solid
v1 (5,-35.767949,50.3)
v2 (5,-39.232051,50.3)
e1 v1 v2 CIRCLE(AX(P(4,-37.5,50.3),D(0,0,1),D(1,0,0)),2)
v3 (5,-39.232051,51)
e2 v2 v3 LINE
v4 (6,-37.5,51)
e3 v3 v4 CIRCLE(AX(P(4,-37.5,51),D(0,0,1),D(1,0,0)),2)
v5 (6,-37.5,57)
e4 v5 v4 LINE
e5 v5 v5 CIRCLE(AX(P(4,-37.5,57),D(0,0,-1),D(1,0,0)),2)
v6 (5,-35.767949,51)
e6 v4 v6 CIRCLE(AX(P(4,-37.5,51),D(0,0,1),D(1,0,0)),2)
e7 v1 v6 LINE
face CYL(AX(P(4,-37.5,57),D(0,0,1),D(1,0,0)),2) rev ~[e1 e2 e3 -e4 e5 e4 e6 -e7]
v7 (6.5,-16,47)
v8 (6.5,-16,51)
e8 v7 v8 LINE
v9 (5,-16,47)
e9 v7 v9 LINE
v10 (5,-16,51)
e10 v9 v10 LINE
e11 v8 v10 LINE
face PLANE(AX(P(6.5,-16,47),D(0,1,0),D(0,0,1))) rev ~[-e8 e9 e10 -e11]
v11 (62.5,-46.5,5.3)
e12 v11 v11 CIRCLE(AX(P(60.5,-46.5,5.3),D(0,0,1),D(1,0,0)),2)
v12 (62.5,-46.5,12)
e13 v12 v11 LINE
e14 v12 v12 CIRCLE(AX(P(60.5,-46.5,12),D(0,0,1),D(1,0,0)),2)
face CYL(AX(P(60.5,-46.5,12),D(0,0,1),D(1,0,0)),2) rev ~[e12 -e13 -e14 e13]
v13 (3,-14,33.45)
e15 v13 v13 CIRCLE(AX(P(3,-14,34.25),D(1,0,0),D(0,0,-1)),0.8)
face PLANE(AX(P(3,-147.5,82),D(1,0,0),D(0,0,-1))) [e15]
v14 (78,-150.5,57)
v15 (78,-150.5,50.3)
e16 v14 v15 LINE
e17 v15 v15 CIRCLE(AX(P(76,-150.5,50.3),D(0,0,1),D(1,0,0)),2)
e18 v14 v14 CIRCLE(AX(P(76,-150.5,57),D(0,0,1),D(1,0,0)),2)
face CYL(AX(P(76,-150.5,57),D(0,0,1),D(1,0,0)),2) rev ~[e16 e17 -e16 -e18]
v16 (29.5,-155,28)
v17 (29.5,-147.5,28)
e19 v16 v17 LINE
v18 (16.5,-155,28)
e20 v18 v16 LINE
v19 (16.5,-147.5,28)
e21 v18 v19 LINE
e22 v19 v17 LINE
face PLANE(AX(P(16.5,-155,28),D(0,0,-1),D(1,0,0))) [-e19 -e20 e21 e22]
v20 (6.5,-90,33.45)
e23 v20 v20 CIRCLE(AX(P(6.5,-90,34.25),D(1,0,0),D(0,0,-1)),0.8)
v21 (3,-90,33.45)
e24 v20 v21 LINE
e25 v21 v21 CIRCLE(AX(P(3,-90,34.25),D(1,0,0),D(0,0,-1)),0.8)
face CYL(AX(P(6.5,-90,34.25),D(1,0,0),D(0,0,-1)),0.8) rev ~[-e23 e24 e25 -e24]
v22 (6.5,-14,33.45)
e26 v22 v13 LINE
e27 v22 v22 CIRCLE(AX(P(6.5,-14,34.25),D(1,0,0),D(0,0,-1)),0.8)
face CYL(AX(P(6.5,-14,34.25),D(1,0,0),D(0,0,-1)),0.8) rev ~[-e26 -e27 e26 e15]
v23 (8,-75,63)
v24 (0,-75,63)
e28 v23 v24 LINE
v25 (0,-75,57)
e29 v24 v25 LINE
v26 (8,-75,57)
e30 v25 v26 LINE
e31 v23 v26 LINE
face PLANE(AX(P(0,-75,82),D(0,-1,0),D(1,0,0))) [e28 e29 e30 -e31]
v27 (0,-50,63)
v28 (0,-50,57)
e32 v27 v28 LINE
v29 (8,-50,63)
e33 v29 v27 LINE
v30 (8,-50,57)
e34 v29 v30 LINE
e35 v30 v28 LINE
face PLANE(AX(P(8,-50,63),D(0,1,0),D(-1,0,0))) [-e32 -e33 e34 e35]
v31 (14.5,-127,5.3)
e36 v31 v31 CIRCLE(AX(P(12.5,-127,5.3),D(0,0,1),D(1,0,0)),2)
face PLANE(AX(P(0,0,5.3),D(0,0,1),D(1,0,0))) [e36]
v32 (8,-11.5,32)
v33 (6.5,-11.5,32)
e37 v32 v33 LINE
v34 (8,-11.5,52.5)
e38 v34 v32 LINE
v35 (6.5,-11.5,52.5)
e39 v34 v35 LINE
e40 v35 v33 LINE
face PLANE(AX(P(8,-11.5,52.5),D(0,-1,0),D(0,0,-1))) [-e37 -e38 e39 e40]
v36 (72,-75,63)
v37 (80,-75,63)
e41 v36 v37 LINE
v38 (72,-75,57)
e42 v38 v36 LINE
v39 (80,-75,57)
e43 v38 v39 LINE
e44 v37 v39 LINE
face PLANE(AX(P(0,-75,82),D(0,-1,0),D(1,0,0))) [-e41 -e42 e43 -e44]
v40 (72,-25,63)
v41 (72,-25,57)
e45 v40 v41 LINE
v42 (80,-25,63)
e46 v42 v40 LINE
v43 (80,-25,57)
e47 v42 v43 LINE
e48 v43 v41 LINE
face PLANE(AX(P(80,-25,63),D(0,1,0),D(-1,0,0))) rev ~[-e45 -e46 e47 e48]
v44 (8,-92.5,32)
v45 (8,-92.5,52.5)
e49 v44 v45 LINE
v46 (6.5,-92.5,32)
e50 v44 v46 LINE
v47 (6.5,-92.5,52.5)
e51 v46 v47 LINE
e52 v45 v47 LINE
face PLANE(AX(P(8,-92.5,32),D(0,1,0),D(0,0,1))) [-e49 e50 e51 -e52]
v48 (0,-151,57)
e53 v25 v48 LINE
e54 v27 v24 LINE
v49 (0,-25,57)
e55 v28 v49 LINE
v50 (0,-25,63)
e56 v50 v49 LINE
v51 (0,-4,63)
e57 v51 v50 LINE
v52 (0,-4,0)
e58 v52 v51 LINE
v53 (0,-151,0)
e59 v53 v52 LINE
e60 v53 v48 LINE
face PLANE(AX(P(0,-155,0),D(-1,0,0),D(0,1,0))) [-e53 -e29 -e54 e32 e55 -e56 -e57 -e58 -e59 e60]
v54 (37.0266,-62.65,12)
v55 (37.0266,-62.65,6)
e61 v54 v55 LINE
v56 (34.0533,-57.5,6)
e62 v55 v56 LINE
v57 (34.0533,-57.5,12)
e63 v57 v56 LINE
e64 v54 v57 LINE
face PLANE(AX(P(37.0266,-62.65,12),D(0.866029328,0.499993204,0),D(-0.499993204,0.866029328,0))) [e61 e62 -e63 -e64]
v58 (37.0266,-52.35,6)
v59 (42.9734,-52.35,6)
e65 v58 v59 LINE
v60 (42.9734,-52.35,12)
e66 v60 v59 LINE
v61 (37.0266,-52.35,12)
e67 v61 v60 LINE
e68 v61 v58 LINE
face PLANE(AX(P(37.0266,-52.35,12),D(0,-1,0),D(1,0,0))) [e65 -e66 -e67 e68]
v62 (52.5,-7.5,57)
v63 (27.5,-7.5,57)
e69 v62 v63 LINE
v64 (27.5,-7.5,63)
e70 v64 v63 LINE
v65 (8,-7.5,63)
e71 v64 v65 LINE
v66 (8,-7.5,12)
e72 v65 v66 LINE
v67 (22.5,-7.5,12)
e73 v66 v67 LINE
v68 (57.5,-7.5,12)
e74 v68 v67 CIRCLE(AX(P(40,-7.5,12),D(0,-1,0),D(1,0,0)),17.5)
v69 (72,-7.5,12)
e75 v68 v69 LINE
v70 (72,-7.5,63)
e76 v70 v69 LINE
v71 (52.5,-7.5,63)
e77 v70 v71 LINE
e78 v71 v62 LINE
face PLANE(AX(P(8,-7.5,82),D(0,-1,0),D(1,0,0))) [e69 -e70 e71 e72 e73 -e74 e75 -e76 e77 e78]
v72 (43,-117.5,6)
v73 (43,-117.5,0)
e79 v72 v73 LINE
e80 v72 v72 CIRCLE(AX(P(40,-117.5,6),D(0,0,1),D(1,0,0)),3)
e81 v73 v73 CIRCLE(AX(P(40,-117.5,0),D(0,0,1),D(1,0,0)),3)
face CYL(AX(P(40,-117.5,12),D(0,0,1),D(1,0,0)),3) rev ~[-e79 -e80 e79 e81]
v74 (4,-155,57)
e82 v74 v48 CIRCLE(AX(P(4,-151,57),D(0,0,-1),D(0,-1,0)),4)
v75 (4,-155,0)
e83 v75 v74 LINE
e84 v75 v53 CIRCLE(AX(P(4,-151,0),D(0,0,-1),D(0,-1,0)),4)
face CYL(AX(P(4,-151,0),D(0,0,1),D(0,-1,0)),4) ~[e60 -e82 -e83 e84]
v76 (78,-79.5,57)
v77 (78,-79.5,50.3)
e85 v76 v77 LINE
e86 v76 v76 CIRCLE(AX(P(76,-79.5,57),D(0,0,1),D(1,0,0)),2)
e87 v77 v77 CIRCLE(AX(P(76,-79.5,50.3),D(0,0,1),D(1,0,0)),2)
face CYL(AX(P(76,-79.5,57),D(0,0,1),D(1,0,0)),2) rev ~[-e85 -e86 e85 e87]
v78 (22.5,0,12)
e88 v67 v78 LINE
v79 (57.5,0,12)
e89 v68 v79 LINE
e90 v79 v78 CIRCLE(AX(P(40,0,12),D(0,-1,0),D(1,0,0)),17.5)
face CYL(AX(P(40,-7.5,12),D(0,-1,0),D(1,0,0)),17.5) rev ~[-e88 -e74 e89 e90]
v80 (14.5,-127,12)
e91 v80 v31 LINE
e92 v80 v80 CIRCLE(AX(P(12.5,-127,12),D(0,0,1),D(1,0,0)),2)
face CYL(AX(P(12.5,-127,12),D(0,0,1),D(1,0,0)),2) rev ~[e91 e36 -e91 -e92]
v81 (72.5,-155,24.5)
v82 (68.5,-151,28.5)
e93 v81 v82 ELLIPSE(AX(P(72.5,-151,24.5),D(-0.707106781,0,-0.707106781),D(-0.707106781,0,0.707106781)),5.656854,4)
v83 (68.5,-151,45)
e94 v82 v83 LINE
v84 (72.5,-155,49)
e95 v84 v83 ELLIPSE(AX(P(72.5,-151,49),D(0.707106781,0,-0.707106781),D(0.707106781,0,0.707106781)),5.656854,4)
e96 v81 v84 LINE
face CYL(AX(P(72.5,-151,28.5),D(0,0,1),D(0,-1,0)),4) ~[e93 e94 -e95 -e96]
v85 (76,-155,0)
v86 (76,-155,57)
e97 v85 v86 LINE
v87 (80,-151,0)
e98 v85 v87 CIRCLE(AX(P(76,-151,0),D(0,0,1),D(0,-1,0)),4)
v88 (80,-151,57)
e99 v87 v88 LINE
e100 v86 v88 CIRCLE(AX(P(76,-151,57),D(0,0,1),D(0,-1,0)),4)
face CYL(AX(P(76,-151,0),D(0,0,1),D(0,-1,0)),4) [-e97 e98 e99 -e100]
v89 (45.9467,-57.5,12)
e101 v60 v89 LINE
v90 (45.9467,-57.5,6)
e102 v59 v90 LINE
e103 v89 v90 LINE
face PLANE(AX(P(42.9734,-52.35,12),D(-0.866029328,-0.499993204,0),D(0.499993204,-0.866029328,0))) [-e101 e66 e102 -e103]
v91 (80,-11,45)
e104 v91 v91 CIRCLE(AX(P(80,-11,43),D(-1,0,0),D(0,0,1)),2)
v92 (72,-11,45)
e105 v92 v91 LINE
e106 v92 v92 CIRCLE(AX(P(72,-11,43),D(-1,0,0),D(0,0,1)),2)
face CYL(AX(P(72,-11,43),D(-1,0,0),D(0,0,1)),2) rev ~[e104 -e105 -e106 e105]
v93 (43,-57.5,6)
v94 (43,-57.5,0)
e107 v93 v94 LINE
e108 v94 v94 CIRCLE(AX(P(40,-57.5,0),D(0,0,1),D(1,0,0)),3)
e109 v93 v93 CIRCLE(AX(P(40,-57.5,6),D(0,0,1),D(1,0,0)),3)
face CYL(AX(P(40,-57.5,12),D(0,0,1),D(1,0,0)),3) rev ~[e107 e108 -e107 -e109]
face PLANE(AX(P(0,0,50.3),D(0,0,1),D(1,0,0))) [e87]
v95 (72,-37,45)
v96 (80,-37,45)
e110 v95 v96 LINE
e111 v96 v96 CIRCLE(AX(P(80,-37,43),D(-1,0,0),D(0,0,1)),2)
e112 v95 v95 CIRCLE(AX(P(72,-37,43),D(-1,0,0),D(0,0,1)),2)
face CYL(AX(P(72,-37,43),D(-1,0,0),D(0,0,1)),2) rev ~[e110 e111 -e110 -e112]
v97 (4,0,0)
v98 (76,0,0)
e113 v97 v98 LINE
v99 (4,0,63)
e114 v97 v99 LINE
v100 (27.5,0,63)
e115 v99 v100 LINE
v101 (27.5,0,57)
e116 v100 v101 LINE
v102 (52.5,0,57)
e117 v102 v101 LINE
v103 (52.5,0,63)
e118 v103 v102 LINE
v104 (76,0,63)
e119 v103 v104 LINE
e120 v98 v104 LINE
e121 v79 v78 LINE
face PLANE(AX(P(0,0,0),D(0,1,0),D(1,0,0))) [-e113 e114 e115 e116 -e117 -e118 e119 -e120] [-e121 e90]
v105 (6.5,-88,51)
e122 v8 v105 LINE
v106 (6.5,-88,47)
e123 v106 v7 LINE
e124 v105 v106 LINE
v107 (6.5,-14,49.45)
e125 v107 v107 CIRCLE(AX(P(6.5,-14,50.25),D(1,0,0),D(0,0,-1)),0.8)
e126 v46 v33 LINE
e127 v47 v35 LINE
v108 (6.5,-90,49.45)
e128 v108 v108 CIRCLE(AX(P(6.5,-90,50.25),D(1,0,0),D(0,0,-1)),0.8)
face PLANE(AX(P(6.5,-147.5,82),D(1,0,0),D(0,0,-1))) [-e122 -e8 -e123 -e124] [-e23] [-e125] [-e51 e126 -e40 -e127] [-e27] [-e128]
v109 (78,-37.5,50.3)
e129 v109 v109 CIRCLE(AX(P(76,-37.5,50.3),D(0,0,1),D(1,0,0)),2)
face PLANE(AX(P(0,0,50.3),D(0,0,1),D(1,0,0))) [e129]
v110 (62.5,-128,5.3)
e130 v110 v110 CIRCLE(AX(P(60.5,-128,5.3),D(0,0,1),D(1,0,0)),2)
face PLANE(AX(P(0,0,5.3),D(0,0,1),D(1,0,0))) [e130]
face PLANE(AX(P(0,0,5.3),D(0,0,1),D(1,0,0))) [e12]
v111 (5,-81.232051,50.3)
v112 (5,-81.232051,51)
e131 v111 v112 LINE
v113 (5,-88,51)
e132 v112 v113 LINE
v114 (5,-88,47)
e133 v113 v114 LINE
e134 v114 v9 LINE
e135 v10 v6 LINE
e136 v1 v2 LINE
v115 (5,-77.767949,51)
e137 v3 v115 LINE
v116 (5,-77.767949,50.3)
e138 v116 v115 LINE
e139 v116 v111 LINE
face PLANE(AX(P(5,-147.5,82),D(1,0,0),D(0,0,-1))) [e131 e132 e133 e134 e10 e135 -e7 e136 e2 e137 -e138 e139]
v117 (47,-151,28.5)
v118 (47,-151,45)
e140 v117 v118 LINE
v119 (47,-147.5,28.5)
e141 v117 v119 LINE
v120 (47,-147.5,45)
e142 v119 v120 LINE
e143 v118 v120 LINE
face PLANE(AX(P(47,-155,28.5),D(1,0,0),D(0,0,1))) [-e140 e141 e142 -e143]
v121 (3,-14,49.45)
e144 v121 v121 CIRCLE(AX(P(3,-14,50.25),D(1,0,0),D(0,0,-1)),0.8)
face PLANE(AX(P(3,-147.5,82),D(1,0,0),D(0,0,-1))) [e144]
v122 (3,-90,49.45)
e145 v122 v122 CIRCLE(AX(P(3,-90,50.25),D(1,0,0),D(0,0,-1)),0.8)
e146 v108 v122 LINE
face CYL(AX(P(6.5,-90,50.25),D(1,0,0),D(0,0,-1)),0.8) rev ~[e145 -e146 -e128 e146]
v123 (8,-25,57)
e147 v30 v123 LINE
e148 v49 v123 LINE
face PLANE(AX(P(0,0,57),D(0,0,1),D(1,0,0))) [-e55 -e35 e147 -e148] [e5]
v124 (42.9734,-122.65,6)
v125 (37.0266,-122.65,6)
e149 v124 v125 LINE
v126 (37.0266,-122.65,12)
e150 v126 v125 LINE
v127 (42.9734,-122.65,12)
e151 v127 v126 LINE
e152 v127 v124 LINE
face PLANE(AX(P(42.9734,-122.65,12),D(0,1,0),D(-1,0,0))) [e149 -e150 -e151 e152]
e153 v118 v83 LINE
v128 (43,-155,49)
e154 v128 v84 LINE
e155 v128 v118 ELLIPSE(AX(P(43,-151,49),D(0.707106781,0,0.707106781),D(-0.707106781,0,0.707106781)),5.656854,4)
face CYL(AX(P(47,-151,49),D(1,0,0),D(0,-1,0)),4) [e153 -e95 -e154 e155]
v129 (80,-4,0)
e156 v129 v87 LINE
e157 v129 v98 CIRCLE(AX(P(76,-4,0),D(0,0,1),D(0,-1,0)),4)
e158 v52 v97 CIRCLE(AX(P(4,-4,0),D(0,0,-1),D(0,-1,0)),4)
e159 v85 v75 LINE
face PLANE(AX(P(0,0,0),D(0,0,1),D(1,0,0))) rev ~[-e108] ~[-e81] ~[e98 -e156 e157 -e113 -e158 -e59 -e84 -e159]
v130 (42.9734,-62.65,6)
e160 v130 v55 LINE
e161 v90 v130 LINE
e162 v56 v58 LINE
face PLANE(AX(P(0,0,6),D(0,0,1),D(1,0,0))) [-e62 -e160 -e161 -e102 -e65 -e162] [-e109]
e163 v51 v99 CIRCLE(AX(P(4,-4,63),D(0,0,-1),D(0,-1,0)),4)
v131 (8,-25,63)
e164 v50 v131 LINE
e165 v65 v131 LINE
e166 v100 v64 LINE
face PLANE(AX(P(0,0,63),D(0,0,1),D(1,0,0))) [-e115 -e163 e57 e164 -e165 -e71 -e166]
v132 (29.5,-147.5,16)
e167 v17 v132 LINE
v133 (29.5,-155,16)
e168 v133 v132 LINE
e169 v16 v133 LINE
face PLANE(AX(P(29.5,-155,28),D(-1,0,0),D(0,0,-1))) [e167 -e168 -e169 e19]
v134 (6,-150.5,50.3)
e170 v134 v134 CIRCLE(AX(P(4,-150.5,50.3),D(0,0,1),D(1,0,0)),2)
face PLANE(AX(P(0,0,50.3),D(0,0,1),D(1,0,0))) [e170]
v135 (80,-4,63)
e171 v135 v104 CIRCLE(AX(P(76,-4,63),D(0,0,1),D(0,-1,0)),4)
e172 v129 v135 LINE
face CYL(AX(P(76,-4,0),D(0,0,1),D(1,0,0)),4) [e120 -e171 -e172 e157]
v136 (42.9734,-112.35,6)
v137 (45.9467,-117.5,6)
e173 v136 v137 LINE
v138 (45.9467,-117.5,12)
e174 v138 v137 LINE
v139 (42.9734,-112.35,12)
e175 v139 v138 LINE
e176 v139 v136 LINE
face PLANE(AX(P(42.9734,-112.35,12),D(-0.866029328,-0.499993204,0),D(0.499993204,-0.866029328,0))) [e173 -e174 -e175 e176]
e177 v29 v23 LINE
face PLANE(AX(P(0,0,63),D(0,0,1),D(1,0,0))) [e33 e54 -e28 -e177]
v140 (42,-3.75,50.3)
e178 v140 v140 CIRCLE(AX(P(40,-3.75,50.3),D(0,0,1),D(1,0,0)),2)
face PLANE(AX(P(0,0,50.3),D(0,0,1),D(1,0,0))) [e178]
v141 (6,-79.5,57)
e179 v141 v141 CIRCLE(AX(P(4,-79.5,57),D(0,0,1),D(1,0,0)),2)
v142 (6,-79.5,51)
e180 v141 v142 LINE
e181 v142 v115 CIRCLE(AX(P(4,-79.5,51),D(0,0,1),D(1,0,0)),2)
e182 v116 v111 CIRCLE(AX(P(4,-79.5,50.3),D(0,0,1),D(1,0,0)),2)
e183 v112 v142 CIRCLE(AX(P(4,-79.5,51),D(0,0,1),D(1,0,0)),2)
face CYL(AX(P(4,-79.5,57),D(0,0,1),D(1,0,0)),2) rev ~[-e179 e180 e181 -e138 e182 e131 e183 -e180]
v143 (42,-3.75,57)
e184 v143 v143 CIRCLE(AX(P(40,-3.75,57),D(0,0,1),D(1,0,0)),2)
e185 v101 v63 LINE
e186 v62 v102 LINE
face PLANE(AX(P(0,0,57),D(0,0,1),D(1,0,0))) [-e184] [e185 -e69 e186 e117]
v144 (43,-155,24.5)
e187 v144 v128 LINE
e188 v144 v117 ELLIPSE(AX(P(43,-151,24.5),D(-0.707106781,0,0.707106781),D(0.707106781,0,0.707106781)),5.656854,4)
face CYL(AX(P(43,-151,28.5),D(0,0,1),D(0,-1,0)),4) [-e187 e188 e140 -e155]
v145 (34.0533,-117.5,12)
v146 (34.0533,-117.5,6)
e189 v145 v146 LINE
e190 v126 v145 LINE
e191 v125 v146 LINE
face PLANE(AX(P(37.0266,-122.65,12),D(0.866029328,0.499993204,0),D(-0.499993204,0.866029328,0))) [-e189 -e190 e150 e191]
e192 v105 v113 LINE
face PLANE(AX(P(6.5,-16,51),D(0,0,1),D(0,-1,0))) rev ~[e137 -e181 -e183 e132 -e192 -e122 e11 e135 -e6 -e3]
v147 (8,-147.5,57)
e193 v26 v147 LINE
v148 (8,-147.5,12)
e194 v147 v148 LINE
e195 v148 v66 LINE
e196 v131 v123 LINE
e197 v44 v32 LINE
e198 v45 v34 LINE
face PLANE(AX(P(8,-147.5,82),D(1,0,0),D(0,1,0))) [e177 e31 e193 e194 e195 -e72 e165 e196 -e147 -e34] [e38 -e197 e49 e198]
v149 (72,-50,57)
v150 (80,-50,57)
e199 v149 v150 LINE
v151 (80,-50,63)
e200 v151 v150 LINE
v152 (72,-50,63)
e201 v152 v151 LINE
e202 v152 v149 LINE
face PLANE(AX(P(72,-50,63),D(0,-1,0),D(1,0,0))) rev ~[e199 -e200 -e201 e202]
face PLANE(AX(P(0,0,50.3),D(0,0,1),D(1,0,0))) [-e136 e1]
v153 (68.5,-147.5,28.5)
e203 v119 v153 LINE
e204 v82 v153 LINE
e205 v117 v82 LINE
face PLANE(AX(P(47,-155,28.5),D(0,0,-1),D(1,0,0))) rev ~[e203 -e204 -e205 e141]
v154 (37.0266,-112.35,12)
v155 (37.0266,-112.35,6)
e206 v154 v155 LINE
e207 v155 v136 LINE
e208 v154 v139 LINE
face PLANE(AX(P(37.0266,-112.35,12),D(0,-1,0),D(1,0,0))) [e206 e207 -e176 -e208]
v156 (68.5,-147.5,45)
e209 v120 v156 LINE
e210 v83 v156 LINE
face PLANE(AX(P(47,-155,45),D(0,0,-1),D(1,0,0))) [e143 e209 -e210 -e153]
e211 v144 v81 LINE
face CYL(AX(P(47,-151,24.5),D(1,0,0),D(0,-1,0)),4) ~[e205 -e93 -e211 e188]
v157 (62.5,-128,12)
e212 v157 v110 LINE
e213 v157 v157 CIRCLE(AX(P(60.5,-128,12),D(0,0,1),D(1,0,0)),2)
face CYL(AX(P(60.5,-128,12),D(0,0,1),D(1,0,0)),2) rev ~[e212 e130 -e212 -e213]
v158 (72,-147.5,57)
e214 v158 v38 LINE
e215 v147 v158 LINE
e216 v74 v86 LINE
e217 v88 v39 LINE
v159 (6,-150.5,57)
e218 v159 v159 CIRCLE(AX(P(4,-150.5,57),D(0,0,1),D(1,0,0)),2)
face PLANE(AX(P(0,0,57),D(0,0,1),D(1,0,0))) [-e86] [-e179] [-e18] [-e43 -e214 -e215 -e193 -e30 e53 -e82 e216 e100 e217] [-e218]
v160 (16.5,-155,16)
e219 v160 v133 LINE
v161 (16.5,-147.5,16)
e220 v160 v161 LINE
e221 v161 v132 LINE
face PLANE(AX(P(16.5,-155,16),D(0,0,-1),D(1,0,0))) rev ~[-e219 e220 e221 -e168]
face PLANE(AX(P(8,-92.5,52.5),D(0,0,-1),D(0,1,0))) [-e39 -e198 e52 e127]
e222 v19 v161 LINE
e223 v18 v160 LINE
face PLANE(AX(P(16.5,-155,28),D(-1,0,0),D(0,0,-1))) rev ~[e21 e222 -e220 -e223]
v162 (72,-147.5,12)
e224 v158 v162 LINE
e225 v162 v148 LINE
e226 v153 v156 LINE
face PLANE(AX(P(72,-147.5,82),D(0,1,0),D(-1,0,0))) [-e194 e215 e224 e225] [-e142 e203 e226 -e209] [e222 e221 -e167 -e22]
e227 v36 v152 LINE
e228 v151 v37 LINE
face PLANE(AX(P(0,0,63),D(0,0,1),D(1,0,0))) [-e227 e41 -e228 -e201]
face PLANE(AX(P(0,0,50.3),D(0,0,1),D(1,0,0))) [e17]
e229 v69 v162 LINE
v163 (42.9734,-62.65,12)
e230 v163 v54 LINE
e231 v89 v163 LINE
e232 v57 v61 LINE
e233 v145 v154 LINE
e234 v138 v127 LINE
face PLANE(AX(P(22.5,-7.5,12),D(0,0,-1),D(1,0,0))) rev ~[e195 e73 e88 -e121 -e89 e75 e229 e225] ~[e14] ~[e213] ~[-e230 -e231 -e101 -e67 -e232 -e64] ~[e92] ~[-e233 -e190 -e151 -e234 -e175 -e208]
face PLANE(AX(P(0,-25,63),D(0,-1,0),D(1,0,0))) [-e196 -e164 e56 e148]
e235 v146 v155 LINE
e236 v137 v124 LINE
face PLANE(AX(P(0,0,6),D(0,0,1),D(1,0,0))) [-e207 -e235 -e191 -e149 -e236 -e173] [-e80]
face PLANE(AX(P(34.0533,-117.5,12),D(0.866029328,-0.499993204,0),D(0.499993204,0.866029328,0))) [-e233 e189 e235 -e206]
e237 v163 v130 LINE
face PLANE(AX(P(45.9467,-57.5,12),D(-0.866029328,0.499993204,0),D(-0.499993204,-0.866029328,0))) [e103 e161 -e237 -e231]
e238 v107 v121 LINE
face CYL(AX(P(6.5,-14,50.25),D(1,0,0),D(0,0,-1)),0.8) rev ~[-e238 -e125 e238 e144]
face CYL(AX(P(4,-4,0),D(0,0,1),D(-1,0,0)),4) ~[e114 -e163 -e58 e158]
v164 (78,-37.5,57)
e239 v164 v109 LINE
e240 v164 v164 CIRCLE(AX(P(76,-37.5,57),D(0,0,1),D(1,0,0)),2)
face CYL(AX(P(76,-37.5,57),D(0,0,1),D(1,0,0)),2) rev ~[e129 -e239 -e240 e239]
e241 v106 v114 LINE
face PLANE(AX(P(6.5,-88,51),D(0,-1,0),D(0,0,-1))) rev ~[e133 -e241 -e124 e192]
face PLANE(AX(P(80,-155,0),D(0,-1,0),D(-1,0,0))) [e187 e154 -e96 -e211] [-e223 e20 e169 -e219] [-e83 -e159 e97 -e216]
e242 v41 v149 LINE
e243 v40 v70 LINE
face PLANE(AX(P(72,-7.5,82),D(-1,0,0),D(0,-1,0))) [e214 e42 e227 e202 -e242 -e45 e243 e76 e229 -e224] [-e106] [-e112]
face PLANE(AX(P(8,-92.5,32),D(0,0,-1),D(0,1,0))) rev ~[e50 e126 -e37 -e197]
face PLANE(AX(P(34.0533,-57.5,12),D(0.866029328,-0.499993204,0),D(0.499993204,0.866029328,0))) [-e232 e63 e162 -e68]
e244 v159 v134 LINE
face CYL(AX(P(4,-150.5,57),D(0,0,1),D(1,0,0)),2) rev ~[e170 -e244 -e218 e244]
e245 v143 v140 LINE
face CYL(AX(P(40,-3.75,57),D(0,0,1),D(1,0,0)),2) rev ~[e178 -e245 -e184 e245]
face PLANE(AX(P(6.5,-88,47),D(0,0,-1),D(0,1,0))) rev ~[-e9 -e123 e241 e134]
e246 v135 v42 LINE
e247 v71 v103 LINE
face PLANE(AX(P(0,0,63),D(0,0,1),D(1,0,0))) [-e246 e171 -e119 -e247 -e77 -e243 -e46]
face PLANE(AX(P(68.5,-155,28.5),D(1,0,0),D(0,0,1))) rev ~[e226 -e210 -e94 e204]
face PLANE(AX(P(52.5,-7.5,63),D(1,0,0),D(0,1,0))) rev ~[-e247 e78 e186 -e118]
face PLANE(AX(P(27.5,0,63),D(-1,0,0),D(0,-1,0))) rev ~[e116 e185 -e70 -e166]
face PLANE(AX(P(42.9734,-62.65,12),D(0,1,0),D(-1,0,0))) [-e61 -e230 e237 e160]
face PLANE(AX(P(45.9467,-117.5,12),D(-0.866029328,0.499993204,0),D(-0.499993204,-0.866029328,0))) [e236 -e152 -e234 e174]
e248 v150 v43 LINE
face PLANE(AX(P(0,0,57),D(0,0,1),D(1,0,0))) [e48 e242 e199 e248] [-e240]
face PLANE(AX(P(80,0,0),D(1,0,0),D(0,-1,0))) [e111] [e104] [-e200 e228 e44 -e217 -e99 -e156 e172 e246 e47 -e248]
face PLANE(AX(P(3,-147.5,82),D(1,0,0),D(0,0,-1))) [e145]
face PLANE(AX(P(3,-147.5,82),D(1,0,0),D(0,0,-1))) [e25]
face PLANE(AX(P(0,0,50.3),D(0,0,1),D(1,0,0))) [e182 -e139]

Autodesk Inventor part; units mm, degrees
ref_plane "YZ Plane" through (0, 0, 0) normal (1, 0, 0) x (0, 1, 0)
ref_plane "XZ Plane" through (0, 0, 0) normal (0, 1, 0) x (-1, 0, 0)
ref_plane "XY Plane" through (0, 0, 0) normal (0, 0, 1) x (1, 0, 0)
sketch "Boceto1" plane through (0, 0, 0) normal (0, 0, 1) x (1, 0, 0)
  line L0 (0, 0) -> (80, 0)
  line L1 (80, 0) -> (80, -155)
  line L2 (80, -155) -> (0, -155)
  line L3 (0, -155) -> (0, 0)
  dimension "d0" = 155
  dimension "d1" = 80
extrude "Extrusión1" add sketch "Boceto1" along normal blind 82
sketch "Boceto2" plane through (0, 0, 82) normal (0, 0, 1) x (1, 0, 0)
  line L0 (8, -7.5) -> (72, -7.5)
  line L1 (72, -7.5) -> (72, -147.5)
  line L2 (72, -147.5) -> (8, -147.5)
  line L3 (8, -147.5) -> (8, -7.5)
  line L4 (80, -155) -> (80, 0) projected
  line L5 (0, 0) -> (0, -155) projected
  line L6 (80, 0) -> (0, 0) projected
  line L7 (0, -155) -> (80, -155) projected
  dimension "d4" = 8
  dimension "d5" = 8
  dimension "d6" = 7.5
  dimension "d7" = 7.5
  dimension "d8" = 64
  dimension "d9" = 140
extrude "Extrusión2" cut sketch "Boceto2" against normal blind 70 contours L0 L1 L2 L3
sketch "Boceto3" plane through (0, 0, 12) normal (0, 0, 1) x (1, 0, 0)
  line L0 (72, -147.5) -> (8, -147.5) projected
  line L1 (8, -147.5) -> (8, -7.5) projected
  line L2 (72, -7.5) -> (72, -147.5) projected
  line L3 (10, -142) -> (70, -142)
  circle A0 centre (12.5, -127) radius 2
  circle A1 centre (60.5, -128) radius 2
  circle A2 centre (60.5, -46.5) radius 2
  point P0 (0, 0)
  dimension "d20" = 60
  dimension "d21" = 2
  dimension "d22" = 2
  dimension "d23" = 5.5
  dimension "d24" = 15
  dimension "d25" = 14
  dimension "d26" = 4.5
  dimension "d27" = 11.5
  dimension "d28" = 95.5
  dimension "d29" = 11.5
  dimension "d30" = 4
extrude "Extrusión3" cut sketch "Boceto3" against normal blind 6.7
sketch "Boceto4" plane through (0, 0, 12) normal (0, 0, 1) x (1, 0, 0)
  line L0 (40, 12.201) -> (40, -183.6096)
  circle A0 centre (40, -57.5) radius 3
  circle A1 centre (40, -117.5) radius 3
  line L1 (72, -147.5) -> (8, -147.5) projected
  line L2 (0, -155) -> (80, -155) projected
  point P0 (0, 0)
  point P1 (40, -155)
  point P2 (40, -155)
  dimension "d33" = 60
  dimension "d34" = 6
  dimension "d35" = 30
  dimension "d103" = 0
extrude "Extrusión4" cut sketch "Boceto4" against normal through all
sketch "Boceto5" plane through (0, 0, 12) normal (0, 0, 1) x (1, 0, 0)
  circle A0 centre (40, -57.5) radius 3 projected
  line L0 (45.9467, -57.5) -> (42.9734, -62.65)
  line L1 (42.9734, -62.65) -> (37.0266, -62.65)
  line L2 (37.0266, -62.65) -> (34.0533, -57.5)
  line L3 (34.0533, -57.5) -> (37.0266, -52.35)
  line L4 (37.0266, -52.35) -> (42.9734, -52.35)
  line L5 (42.9734, -52.35) -> (45.9467, -57.5)
  circle A1 centre (40, -117.5) radius 3 projected
  line L6 (45.9467, -117.5) -> (42.9734, -122.65)
  line L7 (42.9734, -122.65) -> (37.0266, -122.65)
  line L8 (37.0266, -122.65) -> (34.0533, -117.5)
  line L9 (34.0533, -117.5) -> (37.0266, -112.35)
  line L10 (37.0266, -112.35) -> (42.9734, -112.35)
  line L11 (42.9734, -112.35) -> (45.9467, -117.5)
  point P0 (0, 0)
  dimension "d38" = 10.3
extrude "Extrusión5" cut sketch "Boceto5" against normal blind 6 contours A0 | L0 L1 L2 L3 L4 L5 | A1 | L6 L7 L8 L9 L10 L11
sketch "Boceto6" plane through (0, -155, 0) normal (0, -1, 0) x (1, 0, 0)
  line L0 (0, 0) -> (80, 0) projected
  line L1 (72, 12) -> (8, 12) projected
  line L2 (16.5, 16) -> (29.5, 16)
  line L3 (16.5, 28) -> (29.5, 28)
  line L4 (10, 12) -> (10, 44.9628)
  line L5 (70, 12) -> (70, 46.4487)
  line L6 (8, 82) -> (8, 12) projected
  line L7 (72, 82) -> (72, 12) projected
  line L8 (16.5, 28) -> (16.5, 16)
  line L9 (29.5, 28) -> (29.5, 16)
  line L10 (47, 45) -> (68.5, 45)
  line L11 (47, 28.5) -> (68.5, 28.5)
  line L12 (47, 28.5) -> (47, 45)
  line L13 (68.5, 28.5) -> (68.5, 45)
  point P0 (23, 16)
  dimension "d41" = 12
  dimension "d42" = 4
  dimension "d43" = 16
  dimension "d44" = 2
  dimension "d45" = 2
  dimension "d46" = 13
  dimension "d47" = 13
  dimension "d48" = 6.5
  dimension "d49" = 6.5
  dimension "d50" = 12
  dimension "d53" = 33
  dimension "d54" = 16.5
  dimension "d55" = 21.5
  dimension "d56" = 1.5
  dimension "d57" = 1.5
  dimension "d58" = 16.5
extrude "Extrusión6" cut sketch "Boceto6" against normal up to surface (7.5 mm away)
fillet "Empalme1" radius 4 4 edges at (47, -155, 36.75) (57.75, -155, 45) (68.5, -155, 36.75) (57.75, -155, 28.5)
sketch "Boceto8" plane through (72, -147.5, 82) normal (-1, 0, 0) x (0, 0, 1)
  line L0 (-50, 126.4237) -> (-50, 59.6822)
  line L1 (-70, 0) -> (-70, 140) projected
  circle A0 centre (-39, 136.5) radius 2
  circle A1 centre (-39, 110.5) radius 2
  line L2 (-54.9354, 5.5) -> (-15.6963, 5.5)
  line L3 (0, 0) -> (-70, 0) projected
  line L4 (-50, 108) -> (-15.6963, 108)
  line L5 (-50, 139) -> (-21.6523, 139)
  point P0 (-82, 147.5)
  dimension "d60" = 20
  dimension "d61" = 4
  dimension "d62" = 11
  dimension "d63" = 11
  dimension "d64" = 5.5
  dimension "d65" = 102.5
  dimension "d66" = 2.5
  dimension "d67" = 31
  dimension "d68" = 2.5
extrude "Extrusión7" cut sketch "Boceto8" against normal through all
sketch "Boceto9" plane through (8, -147.5, 82) normal (1, 0, 0) x (0, 0, -1)
  line L0 (50, 55) -> (50, 136)
  line L1 (70, 140) -> (70, 0) projected
  line L2 (29.5, 55) -> (29.5, 136)
  line L3 (50, 55) -> (29.5, 55)
  line L4 (29.5, 136) -> (50, 136)
  point P0 (82, 147.5)
  point P1 (0, 140)
  point P2 (39.75, 55)
  dimension "d71" = 20
  dimension "d72" = 20.5
  dimension "d73" = 81
  dimension "d75" = 4
  dimension "d101" = 30.25
extrude "Extrusión8" cut sketch "Boceto9" against normal blind 1.5
sketch "Boceto10" plane through (6.5, -147.5, 82) normal (1, 0, 0) x (0, 0, -1)
  line L0 (35, 59.5) -> (35, 131.5)
  line L1 (35, 131.5) -> (31, 131.5)
  line L2 (31, 131.5) -> (31, 59.5)
  line L3 (31, 59.5) -> (35, 59.5)
  line L4 (29.5, 55) -> (29.5, 136) projected
  line L5 (29.5, 136) -> (50, 136) projected
  point P0 (82, 147.5)
  point P1 (29.5, 95.5)
  dimension "d79" = 72
  dimension "d80" = 1.5
  dimension "d81" = 4
  dimension "d83" = 36
extrude "Extrusión9" cut sketch "Boceto10" against normal blind 1.5
sketch "Boceto11" plane through (6.5, -147.5, 82) normal (1, 0, 0) x (0, 0, -1)
  circle A0 centre (31.75, 57.5) radius 0.8
  circle A1 centre (47.75, 57.5) radius 0.8
  circle A2 centre (31.75, 133.5) radius 0.8
  circle A3 centre (47.75, 133.5) radius 0.8
  line L0 (50, 136) -> (50, 55) projected
  line L1 (50, 55) -> (29.5, 55) projected
  line L2 (29.5, 55) -> (29.5, 136) projected
  line L3 (29.5, 136) -> (50, 136) projected
  point P0 (82, 147.5)
  dimension "d86" = 1.6
  dimension "d88" = 2.25
  dimension "d89" = 2.25
  dimension "d91" = 2.5
  dimension "d92" = 2.25
  dimension "d93" = 2.5
  dimension "d94" = 2.5
  dimension "d95" = 2.5
  dimension "d96" = 2.25
extrude "Extrusión10" cut sketch "Boceto11" against normal blind 3.5 contours A0 | A1 | A2 | A3
sketch "Boceto12" plane through (0, 0, 82) normal (0, 0, 1) x (1, 0, 0)
  line L0 (0, -75) -> (80, -75)
  line L1 (0, -155) -> (80, -155) projected
  line L2 (0, -75) -> (0, -155)
  line L3 (0, -155) -> (80, -155)
  line L4 (80, -155) -> (80, -75)
  point P0 (0, 0)
  point P1 (40, -155)
  dimension "d99" = 80
  dimension "d100" = 40
  dimension "d104" = 80
  dimension "d105" = 80
extrude "Extrusión11" cut sketch "Boceto12" against normal blind 25
sketch "Boceto13" plane through (8, -7.5, 82) normal (0, -1, 0) x (1, 0, 0)
  line L0 (0, -70) -> (64, -70) projected
  circle A0 centre (32, -70) radius 17.5
  point P0 (-8, -82)
  point P1 (49.5, -70)
  point P2 (14.5, -70)
  dimension "d108" = 35
extrude "Extrusión12" cut sketch "Boceto13" against normal through all contours A0 L0 picked at (31.4056, -58.945)
sketch "Boceto14" plane through (0, 0, 57) normal (0, 0, 1) x (1, 0, 0)
  circle A0 centre (4, -150.5) radius 2
  circle A1 centre (4, -79.5) radius 2
  circle A2 centre (76, -79.5) radius 2
  circle A3 centre (76, -150.5) radius 2
  line L0 (80, -155) -> (0, -155) projected
  line L1 (0, -155) -> (0, -75) projected
  line L2 (0, -75) -> (8, -75) projected
  line L3 (80, -75) -> (80, -155) projected
  line L4 (72, -75) -> (80, -75) projected
  point P0 (0, 0)
  dimension "d111" = 4
  dimension "d112" = 4.5
  dimension "d113" = 4
  dimension "d114" = 4.5
  dimension "d115" = 4
  dimension "d116" = 4
  dimension "d117" = 4.5
  dimension "d118" = 4
  dimension "d119" = 4.5
extrude "Extrusión13" cut sketch "Boceto14" against normal blind 6.7
sketch "Boceto15" plane through (0, 0, 82) normal (0, 0, 1) x (1, 0, 0)
  line L0 (0, 0) -> (0, -75) projected
  line L1 (72, -75) -> (80, -75) projected
  line L2 (0, 0) -> (80, 0)
  line L3 (80, 0) -> (80, -75)
  line L4 (80, -75) -> (0, -75)
  line L5 (0, -75) -> (0, 0)
extrude "Extrusión14" cut sketch "Boceto15" against normal blind 19
fillet "Empalme2" radius 4 4 edges at (0, -155, 28.5) (80, -155, 28.5) (80, 0, 31.5) (0, 0, 31.5)
sketch "Boceto16" plane through (0, 0, 63) normal (0, 0, 1) x (1, 0, 0)
  line L0 (22.5, 0) -> (57.5, 0) projected
  line L1 (27.5, -7.5) -> (52.5, -7.5)
  line L2 (52.5, -7.5) -> (52.5, 0)
  line L3 (52.5, 0) -> (27.5, 0)
  line L4 (27.5, 0) -> (27.5, -7.5)
  line L5 (8, -147.5) -> (8, -7.5) projected
  line L6 (0, -25) -> (8, -25)
  line L7 (8, -25) -> (8, -50)
  line L8 (8, -50) -> (0, -50)
  line L9 (0, -50) -> (0, -25)
  line L10 (8, -75) -> (0, -75) projected
  line L11 (40, 16.6758) -> (40, -44.6226)
  line L12 (80, -25) -> (72, -25)
  line L13 (72, -25) -> (72, -50)
  line L14 (72, -50) -> (80, -50)
  line L15 (80, -50) -> (80, -25)
  point P0 (40, 0)
  dimension "d129" = 25
  dimension "d130" = 7.5
  dimension "d131" = 12.5
  dimension "d132" = 8
  dimension "d133" = 25
  dimension "d134" = 25
extrude "Extrusión15" cut sketch "Boceto16" against normal blind 6
sketch "Boceto17" plane through (0, 0, 57) normal (0, 0, 1) x (1, 0, 0)
  circle A0 centre (40, -3.75) radius 2
  circle A1 centre (4, -37.5) radius 2
  line L0 (5, -77.7679) -> (5, -16) projected
  circle A2 centre (76, -37.5) radius 2
  line L1 (0, -50) -> (0, -25) projected
  line L2 (0, -25) -> (8, -25) projected
  line L3 (80, -50) -> (72, -50) projected
  line L4 (80, -25) -> (80, -50) projected
  line L5 (52.5, -7.5) -> (27.5, -7.5) projected
  line L6 (27.5, -7.5) -> (27.5, 0) projected
  point P0 (0, 0)
  dimension "d137" = 4
  dimension "d138" = 4
  dimension "d139" = 12.5
  dimension "d140" = 12.5
  dimension "d141" = 4
  dimension "d142" = 3.75
  dimension "d143" = 12.5
extrude "Extrusión16" cut sketch "Boceto17" against normal blind 6.7
properties part number "Caja para Electrónica"
